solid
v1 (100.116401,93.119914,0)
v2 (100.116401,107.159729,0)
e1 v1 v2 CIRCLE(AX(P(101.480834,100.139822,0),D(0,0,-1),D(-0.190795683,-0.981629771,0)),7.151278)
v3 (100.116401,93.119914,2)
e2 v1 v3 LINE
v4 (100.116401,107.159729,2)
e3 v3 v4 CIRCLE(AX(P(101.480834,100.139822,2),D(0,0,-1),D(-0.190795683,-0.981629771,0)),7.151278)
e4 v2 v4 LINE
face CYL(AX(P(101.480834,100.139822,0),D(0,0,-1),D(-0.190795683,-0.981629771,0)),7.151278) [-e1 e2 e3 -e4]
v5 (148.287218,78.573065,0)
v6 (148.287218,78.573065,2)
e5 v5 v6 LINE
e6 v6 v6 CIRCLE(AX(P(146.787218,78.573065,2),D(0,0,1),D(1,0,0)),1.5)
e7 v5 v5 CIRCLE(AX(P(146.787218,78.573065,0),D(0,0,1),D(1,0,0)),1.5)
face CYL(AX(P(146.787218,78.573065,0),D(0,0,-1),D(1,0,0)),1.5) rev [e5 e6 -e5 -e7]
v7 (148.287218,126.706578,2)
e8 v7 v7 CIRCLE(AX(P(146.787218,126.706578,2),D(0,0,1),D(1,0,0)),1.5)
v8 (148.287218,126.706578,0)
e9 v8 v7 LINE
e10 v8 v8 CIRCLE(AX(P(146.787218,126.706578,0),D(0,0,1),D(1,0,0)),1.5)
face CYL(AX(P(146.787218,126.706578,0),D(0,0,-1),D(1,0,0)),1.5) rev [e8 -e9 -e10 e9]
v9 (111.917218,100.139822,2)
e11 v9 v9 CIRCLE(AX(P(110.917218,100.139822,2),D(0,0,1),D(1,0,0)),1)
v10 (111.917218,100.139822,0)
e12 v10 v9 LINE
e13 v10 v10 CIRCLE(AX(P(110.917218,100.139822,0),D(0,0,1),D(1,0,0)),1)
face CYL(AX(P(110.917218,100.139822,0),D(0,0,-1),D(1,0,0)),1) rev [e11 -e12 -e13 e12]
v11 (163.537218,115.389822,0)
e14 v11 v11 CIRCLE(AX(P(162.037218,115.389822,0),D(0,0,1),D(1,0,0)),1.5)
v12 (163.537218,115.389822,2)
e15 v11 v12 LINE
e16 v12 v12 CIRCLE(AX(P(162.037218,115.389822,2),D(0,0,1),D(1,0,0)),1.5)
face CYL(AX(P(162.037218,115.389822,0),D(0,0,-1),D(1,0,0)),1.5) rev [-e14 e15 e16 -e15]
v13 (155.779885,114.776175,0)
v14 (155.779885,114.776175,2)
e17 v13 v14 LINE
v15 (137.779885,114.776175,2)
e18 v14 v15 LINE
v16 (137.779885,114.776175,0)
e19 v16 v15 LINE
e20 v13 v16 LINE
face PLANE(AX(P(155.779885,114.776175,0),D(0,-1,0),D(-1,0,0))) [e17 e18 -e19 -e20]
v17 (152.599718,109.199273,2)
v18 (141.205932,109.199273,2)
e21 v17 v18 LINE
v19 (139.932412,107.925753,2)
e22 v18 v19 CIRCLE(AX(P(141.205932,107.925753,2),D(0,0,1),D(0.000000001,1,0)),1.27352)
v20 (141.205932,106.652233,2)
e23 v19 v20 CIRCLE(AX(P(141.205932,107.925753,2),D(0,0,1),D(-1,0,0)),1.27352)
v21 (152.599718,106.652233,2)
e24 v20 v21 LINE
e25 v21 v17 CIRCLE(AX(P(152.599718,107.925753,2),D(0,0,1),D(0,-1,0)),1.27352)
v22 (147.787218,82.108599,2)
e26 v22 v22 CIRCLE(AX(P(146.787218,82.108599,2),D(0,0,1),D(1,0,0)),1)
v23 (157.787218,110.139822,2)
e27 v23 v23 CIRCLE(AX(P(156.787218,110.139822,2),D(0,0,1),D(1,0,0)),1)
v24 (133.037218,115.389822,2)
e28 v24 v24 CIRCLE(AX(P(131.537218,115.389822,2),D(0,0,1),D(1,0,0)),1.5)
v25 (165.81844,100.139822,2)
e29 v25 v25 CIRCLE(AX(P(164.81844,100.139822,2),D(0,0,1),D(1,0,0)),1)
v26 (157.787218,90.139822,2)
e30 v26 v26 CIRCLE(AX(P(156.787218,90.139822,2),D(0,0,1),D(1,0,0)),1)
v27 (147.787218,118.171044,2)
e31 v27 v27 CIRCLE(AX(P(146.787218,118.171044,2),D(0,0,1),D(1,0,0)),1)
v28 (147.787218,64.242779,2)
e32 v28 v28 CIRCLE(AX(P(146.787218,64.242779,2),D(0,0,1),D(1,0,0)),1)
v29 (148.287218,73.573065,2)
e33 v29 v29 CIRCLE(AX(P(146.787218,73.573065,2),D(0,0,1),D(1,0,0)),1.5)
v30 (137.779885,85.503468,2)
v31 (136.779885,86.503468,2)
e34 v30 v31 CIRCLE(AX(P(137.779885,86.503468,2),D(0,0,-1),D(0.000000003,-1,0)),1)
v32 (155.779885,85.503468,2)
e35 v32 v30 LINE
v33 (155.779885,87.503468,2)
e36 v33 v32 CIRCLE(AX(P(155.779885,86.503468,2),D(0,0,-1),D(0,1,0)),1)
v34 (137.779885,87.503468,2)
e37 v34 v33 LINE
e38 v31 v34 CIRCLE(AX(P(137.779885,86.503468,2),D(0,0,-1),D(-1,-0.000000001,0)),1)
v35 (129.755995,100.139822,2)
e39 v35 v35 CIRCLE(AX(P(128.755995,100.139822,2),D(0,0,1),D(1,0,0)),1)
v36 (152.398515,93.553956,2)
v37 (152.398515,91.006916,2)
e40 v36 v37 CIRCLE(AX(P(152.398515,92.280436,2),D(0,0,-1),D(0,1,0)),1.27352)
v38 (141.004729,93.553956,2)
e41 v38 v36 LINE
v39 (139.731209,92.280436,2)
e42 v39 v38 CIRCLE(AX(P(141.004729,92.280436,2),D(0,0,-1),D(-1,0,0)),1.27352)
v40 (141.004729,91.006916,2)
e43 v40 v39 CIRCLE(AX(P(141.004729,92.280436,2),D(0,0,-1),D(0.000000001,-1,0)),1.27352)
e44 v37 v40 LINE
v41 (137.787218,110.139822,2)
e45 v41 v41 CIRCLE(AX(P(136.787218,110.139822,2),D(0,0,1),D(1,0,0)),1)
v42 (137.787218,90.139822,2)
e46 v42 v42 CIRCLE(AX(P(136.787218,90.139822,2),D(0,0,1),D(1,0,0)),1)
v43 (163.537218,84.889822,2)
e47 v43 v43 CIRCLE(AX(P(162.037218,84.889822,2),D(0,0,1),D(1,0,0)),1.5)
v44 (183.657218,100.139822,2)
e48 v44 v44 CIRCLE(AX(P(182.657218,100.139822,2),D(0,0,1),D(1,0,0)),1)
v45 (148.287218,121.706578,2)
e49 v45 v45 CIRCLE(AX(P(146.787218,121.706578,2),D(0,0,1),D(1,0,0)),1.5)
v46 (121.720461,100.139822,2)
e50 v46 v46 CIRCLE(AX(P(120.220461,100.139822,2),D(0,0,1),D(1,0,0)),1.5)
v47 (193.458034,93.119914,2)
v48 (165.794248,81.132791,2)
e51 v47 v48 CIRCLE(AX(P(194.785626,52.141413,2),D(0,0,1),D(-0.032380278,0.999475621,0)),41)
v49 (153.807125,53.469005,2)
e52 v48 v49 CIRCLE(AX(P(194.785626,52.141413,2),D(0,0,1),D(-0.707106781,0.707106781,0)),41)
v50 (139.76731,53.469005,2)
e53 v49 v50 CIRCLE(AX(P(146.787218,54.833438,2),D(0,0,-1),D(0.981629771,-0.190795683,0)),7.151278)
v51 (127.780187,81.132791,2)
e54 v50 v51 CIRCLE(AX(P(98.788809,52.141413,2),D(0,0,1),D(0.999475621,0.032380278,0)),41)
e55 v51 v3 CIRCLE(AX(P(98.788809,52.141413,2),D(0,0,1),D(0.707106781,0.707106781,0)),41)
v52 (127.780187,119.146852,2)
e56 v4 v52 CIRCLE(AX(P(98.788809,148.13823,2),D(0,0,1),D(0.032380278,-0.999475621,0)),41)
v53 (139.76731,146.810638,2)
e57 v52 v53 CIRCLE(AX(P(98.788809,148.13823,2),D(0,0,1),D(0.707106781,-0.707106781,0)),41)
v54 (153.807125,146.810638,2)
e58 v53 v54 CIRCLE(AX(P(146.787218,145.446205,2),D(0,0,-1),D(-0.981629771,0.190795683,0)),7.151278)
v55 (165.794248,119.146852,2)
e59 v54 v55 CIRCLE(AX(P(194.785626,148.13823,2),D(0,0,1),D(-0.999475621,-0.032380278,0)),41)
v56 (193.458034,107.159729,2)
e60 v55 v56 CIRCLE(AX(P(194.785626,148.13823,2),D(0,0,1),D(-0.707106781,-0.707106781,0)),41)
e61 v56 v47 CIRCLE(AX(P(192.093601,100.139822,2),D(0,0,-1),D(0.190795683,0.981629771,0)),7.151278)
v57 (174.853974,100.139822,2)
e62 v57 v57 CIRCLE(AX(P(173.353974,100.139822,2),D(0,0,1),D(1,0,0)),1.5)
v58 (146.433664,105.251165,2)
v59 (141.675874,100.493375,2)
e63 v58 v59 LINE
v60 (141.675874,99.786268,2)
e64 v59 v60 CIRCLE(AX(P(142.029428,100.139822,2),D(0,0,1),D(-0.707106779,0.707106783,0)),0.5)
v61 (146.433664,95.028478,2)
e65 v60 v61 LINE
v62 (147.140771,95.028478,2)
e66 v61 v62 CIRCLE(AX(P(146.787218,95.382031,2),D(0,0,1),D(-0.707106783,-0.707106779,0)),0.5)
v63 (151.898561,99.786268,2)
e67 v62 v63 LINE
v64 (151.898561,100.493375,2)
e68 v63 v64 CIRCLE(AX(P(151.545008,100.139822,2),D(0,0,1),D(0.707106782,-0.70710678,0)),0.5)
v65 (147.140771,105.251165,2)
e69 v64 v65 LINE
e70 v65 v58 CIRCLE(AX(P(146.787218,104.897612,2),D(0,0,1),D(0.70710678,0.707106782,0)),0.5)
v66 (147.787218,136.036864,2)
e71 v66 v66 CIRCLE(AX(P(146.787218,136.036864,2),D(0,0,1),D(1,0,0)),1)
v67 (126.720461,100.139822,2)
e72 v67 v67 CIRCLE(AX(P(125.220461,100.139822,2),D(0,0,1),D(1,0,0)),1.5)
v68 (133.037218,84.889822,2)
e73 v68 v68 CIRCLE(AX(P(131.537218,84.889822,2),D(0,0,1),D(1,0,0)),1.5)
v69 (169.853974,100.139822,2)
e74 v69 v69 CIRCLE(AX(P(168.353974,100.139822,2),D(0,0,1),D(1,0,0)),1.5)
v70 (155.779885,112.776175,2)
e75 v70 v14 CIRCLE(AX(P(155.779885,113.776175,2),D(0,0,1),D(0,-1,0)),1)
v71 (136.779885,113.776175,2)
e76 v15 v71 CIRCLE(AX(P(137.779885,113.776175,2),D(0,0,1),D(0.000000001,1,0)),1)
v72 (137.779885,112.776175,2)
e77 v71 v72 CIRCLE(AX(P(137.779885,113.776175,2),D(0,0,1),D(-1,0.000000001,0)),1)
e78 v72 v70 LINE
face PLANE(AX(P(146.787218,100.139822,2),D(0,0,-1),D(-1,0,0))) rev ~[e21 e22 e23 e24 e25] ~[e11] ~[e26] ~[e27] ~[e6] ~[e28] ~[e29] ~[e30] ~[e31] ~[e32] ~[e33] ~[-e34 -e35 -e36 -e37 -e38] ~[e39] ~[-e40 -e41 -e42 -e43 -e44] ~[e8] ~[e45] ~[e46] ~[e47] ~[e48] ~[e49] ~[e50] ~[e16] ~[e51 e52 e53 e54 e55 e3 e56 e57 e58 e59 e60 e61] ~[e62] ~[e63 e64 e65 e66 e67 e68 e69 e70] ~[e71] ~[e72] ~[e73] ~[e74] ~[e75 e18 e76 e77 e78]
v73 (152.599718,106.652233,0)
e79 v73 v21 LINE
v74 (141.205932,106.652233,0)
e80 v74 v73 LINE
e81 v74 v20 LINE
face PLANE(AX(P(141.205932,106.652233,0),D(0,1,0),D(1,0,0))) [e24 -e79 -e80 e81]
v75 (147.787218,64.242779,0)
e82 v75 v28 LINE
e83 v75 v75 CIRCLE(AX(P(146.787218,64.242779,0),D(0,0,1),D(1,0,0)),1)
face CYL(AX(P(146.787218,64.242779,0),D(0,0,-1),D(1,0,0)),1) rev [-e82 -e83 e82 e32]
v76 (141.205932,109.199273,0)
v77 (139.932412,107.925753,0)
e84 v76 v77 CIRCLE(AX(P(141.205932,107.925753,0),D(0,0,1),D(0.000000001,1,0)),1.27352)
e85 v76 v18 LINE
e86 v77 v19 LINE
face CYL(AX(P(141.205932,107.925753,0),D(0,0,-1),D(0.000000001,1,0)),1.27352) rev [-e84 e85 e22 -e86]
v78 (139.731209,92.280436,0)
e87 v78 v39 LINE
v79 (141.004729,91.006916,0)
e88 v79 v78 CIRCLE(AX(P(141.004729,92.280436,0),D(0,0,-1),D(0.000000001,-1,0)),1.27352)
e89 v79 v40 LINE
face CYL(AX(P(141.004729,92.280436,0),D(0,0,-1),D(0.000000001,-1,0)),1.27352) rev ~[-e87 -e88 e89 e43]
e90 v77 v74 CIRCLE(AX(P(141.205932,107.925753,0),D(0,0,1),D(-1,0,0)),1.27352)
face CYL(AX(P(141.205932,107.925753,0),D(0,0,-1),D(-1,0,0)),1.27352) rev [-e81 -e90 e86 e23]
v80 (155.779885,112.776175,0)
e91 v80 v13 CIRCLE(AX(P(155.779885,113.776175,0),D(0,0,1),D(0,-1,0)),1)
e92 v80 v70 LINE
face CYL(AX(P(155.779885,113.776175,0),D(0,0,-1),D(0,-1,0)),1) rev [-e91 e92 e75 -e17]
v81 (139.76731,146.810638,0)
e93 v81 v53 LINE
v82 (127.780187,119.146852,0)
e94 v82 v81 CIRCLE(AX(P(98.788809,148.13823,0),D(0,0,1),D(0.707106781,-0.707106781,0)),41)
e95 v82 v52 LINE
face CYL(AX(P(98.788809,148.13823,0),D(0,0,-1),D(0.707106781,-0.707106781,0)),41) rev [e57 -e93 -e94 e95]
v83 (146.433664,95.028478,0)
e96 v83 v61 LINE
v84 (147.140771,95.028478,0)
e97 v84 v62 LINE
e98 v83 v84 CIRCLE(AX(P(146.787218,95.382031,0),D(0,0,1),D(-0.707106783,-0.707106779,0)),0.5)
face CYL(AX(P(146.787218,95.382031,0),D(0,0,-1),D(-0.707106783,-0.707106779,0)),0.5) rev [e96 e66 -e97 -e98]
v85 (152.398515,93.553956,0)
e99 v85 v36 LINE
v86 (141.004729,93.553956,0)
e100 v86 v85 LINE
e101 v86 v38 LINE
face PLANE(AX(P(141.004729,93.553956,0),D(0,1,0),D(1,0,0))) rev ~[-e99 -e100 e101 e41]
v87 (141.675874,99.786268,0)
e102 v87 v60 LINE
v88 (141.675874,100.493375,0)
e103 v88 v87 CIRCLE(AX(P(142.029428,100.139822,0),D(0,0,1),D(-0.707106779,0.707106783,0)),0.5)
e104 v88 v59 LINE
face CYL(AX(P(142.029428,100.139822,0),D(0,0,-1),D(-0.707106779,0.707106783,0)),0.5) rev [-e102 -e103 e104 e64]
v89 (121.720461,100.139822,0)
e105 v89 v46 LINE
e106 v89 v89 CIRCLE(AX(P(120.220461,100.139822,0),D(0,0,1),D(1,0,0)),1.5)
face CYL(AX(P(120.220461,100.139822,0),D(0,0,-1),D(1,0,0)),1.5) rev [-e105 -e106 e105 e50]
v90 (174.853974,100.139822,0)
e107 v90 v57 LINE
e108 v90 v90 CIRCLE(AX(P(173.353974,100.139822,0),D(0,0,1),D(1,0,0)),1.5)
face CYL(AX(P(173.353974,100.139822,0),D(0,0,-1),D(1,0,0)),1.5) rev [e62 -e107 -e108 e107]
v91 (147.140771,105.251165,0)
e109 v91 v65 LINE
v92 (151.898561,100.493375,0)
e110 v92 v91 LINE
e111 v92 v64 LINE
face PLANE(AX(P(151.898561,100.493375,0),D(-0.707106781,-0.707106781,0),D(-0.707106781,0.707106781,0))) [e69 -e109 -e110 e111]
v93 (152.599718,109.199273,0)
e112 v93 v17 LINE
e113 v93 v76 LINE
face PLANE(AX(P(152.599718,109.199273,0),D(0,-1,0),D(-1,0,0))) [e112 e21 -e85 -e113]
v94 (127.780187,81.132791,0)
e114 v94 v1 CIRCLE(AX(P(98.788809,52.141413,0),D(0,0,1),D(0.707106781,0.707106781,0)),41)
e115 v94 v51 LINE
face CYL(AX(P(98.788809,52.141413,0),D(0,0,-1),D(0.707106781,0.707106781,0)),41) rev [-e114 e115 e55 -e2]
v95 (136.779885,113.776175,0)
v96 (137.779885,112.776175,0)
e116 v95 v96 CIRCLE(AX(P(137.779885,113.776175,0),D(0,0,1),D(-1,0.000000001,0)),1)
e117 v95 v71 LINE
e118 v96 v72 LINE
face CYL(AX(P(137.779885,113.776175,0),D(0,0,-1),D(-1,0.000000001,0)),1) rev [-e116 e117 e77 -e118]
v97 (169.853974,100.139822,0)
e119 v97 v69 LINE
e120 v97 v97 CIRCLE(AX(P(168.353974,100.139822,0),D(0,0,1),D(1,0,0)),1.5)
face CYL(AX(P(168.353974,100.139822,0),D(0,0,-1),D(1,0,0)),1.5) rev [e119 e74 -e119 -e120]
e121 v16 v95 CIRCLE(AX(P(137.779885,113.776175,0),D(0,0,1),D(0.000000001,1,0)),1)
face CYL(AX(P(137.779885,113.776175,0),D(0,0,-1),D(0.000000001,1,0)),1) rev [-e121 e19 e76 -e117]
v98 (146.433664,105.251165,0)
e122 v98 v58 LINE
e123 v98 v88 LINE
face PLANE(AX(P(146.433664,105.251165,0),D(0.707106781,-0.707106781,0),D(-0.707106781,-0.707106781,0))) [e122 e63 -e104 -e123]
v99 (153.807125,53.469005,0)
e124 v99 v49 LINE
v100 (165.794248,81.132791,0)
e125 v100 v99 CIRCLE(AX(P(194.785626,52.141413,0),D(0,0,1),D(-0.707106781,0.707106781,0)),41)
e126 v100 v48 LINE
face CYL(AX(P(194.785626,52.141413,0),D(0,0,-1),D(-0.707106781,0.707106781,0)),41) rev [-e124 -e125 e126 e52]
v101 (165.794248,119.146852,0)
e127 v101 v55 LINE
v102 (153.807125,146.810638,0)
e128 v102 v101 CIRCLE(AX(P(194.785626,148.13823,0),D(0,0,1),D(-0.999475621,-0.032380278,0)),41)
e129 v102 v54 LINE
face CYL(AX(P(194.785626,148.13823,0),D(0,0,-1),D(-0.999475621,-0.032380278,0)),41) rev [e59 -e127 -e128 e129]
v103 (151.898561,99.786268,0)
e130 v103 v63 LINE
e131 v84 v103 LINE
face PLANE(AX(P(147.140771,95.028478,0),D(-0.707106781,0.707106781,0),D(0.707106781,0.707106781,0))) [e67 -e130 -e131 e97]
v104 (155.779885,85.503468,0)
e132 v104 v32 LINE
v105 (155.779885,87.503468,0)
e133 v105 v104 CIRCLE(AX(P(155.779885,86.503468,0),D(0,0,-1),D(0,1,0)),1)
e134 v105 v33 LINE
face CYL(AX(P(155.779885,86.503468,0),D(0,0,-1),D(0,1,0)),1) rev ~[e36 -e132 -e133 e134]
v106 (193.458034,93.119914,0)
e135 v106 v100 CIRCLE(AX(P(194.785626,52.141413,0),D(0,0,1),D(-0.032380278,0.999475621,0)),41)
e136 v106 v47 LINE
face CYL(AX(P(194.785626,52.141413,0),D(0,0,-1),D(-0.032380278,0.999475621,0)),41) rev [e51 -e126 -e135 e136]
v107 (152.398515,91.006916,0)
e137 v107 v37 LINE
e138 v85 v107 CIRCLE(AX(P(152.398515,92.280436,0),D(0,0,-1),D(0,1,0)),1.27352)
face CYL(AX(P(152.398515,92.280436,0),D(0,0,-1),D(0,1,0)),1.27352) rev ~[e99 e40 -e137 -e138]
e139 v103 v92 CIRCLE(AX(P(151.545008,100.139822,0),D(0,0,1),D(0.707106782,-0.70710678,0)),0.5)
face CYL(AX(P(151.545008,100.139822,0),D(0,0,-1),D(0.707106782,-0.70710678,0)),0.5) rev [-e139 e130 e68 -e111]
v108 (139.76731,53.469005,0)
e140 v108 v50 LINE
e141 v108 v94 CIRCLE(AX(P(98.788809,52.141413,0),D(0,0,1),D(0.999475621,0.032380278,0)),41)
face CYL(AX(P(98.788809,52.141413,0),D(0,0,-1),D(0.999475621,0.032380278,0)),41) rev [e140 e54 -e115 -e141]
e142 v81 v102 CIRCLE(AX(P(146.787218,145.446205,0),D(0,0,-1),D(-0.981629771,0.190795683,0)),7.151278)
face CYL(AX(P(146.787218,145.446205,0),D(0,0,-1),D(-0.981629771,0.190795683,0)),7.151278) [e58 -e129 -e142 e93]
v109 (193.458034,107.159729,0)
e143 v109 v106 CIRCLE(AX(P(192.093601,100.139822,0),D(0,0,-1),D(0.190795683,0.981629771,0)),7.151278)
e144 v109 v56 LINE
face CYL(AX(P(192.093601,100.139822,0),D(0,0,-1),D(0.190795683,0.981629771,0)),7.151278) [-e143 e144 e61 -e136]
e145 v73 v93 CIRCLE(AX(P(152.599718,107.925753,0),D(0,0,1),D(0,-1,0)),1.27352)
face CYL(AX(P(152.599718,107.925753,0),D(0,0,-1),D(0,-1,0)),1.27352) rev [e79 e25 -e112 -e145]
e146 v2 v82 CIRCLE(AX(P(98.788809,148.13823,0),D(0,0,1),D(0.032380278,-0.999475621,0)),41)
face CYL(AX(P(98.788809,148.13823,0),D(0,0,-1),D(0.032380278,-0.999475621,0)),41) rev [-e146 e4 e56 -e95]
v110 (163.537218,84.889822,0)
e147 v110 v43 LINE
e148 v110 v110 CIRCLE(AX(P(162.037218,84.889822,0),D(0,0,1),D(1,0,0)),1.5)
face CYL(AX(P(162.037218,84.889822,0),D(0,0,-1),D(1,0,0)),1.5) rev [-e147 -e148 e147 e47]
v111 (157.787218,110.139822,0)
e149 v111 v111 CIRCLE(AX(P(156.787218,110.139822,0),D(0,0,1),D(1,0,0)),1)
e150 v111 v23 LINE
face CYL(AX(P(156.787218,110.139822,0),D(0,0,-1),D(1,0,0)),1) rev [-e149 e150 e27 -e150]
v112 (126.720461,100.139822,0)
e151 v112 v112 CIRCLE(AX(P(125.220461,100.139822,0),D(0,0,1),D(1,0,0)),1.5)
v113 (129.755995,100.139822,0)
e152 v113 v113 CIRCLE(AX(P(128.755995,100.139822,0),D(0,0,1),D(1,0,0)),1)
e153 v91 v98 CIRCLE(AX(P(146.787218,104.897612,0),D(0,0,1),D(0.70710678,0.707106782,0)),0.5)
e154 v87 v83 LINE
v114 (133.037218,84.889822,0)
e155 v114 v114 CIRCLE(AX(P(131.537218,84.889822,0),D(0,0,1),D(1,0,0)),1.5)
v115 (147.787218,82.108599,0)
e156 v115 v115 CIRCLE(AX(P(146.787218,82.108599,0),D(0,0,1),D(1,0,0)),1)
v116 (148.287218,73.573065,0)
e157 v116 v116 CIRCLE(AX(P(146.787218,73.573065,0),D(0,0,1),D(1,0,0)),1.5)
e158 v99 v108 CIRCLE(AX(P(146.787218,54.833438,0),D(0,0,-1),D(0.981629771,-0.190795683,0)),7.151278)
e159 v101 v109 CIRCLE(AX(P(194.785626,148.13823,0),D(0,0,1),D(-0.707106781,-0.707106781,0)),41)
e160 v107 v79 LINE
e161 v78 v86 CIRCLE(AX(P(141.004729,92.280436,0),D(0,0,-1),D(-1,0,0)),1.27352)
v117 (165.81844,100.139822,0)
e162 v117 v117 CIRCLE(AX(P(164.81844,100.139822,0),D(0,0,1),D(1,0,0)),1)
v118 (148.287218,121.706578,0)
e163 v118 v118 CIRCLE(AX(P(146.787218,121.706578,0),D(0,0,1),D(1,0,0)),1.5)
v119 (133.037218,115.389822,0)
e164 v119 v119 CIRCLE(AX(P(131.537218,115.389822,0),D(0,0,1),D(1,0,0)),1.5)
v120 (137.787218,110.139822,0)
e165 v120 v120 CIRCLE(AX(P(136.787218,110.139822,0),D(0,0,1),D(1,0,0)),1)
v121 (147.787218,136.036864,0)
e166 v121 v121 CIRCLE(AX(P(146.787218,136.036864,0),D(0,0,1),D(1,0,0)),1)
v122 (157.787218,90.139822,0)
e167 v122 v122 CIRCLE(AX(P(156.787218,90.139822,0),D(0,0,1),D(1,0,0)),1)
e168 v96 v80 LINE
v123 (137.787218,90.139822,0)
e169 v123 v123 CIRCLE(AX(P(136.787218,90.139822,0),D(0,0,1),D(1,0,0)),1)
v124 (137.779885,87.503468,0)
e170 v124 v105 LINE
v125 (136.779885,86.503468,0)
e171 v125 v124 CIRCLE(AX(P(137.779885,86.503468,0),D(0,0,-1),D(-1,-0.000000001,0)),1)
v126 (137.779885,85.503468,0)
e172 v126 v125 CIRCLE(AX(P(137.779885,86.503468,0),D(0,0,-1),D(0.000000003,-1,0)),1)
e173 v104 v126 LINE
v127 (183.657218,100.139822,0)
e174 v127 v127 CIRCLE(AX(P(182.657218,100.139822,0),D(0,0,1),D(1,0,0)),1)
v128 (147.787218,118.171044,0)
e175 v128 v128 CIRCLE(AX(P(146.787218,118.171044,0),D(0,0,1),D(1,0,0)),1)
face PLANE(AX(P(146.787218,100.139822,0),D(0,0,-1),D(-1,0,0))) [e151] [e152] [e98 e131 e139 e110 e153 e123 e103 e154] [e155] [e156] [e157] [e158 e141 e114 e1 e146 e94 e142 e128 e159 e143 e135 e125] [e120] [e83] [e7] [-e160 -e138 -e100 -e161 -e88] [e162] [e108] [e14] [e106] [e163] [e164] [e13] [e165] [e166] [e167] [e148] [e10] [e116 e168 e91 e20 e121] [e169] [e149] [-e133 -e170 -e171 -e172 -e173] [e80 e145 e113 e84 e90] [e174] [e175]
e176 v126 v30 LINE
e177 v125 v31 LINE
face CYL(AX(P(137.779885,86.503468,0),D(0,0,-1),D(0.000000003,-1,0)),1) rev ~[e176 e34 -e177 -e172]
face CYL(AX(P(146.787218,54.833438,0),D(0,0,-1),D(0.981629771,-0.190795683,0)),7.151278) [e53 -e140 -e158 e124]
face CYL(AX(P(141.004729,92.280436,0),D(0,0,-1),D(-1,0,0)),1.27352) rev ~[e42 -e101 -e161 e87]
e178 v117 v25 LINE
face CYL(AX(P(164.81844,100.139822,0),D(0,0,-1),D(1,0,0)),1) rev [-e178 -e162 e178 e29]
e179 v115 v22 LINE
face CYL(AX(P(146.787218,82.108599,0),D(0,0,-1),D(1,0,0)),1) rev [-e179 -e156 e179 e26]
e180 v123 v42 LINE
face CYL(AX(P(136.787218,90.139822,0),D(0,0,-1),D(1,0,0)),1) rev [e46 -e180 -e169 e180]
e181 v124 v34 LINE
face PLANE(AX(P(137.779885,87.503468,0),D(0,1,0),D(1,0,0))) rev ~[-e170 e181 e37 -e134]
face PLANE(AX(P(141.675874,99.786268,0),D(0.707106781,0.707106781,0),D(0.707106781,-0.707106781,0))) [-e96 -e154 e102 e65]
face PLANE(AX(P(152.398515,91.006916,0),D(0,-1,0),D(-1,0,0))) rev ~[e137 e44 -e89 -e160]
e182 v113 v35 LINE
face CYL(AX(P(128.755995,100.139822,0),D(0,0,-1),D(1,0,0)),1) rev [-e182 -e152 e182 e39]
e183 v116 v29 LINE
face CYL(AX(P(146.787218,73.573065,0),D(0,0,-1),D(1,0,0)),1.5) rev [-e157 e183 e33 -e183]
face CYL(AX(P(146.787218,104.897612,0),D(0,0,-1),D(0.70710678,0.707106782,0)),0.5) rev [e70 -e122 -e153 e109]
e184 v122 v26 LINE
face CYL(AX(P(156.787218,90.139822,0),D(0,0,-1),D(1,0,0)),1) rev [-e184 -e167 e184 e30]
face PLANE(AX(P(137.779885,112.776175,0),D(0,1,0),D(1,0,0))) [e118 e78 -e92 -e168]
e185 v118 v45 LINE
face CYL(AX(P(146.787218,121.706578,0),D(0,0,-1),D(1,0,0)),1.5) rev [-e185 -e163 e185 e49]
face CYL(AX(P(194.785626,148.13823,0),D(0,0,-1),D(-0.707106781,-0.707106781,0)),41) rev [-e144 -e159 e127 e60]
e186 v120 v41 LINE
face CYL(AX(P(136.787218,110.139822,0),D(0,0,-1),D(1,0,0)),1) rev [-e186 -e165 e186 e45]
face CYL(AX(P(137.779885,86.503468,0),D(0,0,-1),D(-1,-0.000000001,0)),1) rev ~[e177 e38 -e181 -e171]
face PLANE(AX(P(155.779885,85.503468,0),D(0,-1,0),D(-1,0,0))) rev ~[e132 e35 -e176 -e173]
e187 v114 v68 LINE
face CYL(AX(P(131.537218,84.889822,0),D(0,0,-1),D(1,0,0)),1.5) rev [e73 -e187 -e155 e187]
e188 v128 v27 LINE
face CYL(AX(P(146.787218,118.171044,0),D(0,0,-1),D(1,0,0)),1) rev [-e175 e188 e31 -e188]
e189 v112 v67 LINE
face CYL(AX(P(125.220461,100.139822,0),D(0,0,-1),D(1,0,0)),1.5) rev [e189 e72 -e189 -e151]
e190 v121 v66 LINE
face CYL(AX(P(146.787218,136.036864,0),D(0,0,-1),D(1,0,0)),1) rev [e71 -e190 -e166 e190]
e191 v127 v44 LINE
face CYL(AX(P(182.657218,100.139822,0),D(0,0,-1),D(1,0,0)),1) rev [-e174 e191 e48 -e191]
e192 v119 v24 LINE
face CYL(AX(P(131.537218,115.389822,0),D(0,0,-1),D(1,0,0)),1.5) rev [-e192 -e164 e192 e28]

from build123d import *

# Parameters (mm, degrees)
MODEL_R         = 1
MODEL_R_2       = 1.5
EXTRUDE_1_DEPTH = 2


with BuildPart() as part:
    # Model → 凸台-拉伸1 (new body)
    with BuildSketch(Plane.XY):
        with BuildLine():
            ThreePointArc((165.794247794, 119.146851779), (178.48431443, 110.518191971), (193.458034411, 107.159729335))
            ThreePointArc((193.458034411, 107.159729335), (199.244879812, 100.139821501), (193.458034411, 93.119913668))
            ThreePointArc((193.458034411, 93.119913668), (178.48431443, 89.761451032), (165.794247794, 81.132791223))
            ThreePointArc((165.794247794, 81.132791223), (157.165587985, 68.442724587), (153.807125349, 53.469004606))
            ThreePointArc((153.807125349, 53.469004606), (146.787217515, 47.682159205), (139.767309682, 53.469004606))
            ThreePointArc((139.767309682, 53.469004606), (136.408847046, 68.442724587), (127.780187237, 81.132791223))
            ThreePointArc((127.780187237, 81.132791223), (115.090120601, 89.761451032), (100.11640062, 93.119913668))
            ThreePointArc((100.11640062, 93.119913668), (94.329555219, 100.139821501), (100.11640062, 107.159729335))
            ThreePointArc((100.11640062, 107.159729335), (115.090120601, 110.518191971), (127.780187237, 119.146851779))
            ThreePointArc((127.780187237, 119.146851779), (136.408847046, 131.836918416), (139.767309682, 146.810638396))
            ThreePointArc((139.767309682, 146.810638396), (146.787217515, 152.597483797), (153.807125349, 146.810638396))
            ThreePointArc((153.807125349, 146.810638396), (157.165587985, 131.836918416), (165.794247794, 119.146851779))
        make_face()
        with Locations((156.787217515, 110.139821501)):
            Circle(MODEL_R, mode=Mode.SUBTRACT)
        with Locations((136.787217515, 110.139821501)):
            Circle(MODEL_R, mode=Mode.SUBTRACT)
        with Locations((136.787217515, 90.139821501)):
            Circle(MODEL_R, mode=Mode.SUBTRACT)
        with Locations((156.787217515, 90.139821501)):
            Circle(MODEL_R, mode=Mode.SUBTRACT)
        with Locations((168.353974342, 100.139821501)):
            Circle(MODEL_R_2, mode=Mode.SUBTRACT)
        with Locations((146.787217515, 121.706578327)):
            Circle(MODEL_R_2, mode=Mode.SUBTRACT)
        with Locations((125.220460689, 100.139821501)):
            Circle(MODEL_R_2, mode=Mode.SUBTRACT)
        with Locations((146.787217515, 78.573064675)):
            Circle(MODEL_R_2, mode=Mode.SUBTRACT)
        with Locations((146.787217515, 126.706578327)):
            Circle(MODEL_R_2, mode=Mode.SUBTRACT)
        with Locations((120.220460689, 100.139821501)):
            Circle(MODEL_R_2, mode=Mode.SUBTRACT)
        with Locations((146.787217515, 73.573064675)):
            Circle(MODEL_R_2, mode=Mode.SUBTRACT)
        with Locations((173.353974342, 100.139821501)):
            Circle(MODEL_R_2, mode=Mode.SUBTRACT)
        with Locations((146.787217515, 118.171044401)):
            Circle(MODEL_R, mode=Mode.SUBTRACT)
        with Locations((128.755994615, 100.139821501)):
            Circle(MODEL_R, mode=Mode.SUBTRACT)
        with Locations((146.787217515, 82.108598601)):
            Circle(MODEL_R, mode=Mode.SUBTRACT)
        with Locations((164.818440415, 100.139821501)):
            Circle(MODEL_R, mode=Mode.SUBTRACT)
        with Locations((162.037217515, 115.389821501)):
            Circle(MODEL_R_2, mode=Mode.SUBTRACT)
        with Locations((131.537217515, 115.389821501)):
            Circle(MODEL_R_2, mode=Mode.SUBTRACT)
        with Locations((131.537217515, 84.889821501)):
            Circle(MODEL_R_2, mode=Mode.SUBTRACT)
        with Locations((162.037217515, 84.889821501)):
            Circle(MODEL_R_2, mode=Mode.SUBTRACT)
        with Locations((182.657217515, 100.139821501)):
            Circle(MODEL_R, mode=Mode.SUBTRACT)
        with Locations((146.787217515, 136.036864466)):
            Circle(MODEL_R, mode=Mode.SUBTRACT)
        with Locations((110.917217515, 100.139821501)):
            Circle(MODEL_R, mode=Mode.SUBTRACT)
        with Locations((146.787217515, 64.242778536)):
            Circle(MODEL_R, mode=Mode.SUBTRACT)
        with BuildLine():
            Line((152.398515146, 91.006916148), (141.004728844, 91.006916149))
            ThreePointArc((141.004728844, 91.006916149), (140.104214379, 91.379921453), (139.731209075, 92.280435918))
            ThreePointArc((139.731209075, 92.280435918), (140.104214379, 93.180950383), (141.004728844, 93.553955688))
            Line((141.004728844, 93.553955688), (152.398515146, 93.553955687))
            ThreePointArc((152.398515146, 93.553955687), (153.672034916, 92.280435917), (152.398515146, 91.006916148))
        make_face(mode=Mode.SUBTRACT)
        with BuildLine():
            Line((152.599718137, 109.199272945), (141.205931835, 109.199272945))
            ThreePointArc((141.205931835, 109.199272945), (140.30541737, 108.826267641), (139.932412066, 107.925753176))
            ThreePointArc((139.932412066, 107.925753176), (140.30541737, 107.025238711), (141.205931835, 106.652233406))
            Line((141.205931835, 106.652233406), (152.599718137, 106.652233406))
            ThreePointArc((152.599718137, 106.652233406), (153.873237907, 107.925753176), (152.599718137, 109.199272945))
        make_face(mode=Mode.SUBTRACT)
        with BuildLine():
            Line((151.898560909, 100.493374892), (147.140770906, 105.251164895))
            ThreePointArc((147.140770906, 105.251164895), (146.787217515, 105.397611504), (146.433664125, 105.251164895))
            Line((146.433664125, 105.251164895), (141.675874122, 100.493374892))
            ThreePointArc((141.675874122, 100.493374892), (141.529427512, 100.139821501), (141.675874122, 99.786268111))
            Line((141.675874122, 99.786268111), (146.433664125, 95.028478108))
            ThreePointArc((146.433664125, 95.028478108), (146.787217515, 94.882031498), (147.140770906, 95.028478108))
            Line((147.140770906, 95.028478108), (151.898560909, 99.786268111))
            ThreePointArc((151.898560909, 99.786268111), (152.045007518, 100.139821501), (151.898560909, 100.493374892))
        make_face(mode=Mode.SUBTRACT)
        with BuildLine():
            Line((137.779884988, 87.503468035), (155.779884988, 87.503468035))
            ThreePointArc((155.779884988, 87.503468035), (156.779884988, 86.503468035), (155.779884988, 85.503468035))
            Line((155.779884988, 85.503468035), (137.779884988, 85.503468035))
            ThreePointArc((137.779884988, 85.503468035), (137.072778206, 85.796361253), (136.779884988, 86.503468035))
            ThreePointArc((136.779884988, 86.503468035), (137.072778206, 87.210574816), (137.779884988, 87.503468035))
        make_face(mode=Mode.SUBTRACT)
        with BuildLine():
            Line((137.779884988, 112.776174968), (155.779884988, 112.776174968))
            ThreePointArc((155.779884988, 112.776174968), (156.779884988, 113.776174968), (155.779884988, 114.776174968))
            Line((155.779884988, 114.776174968), (137.779884988, 114.776174968))
            ThreePointArc((137.779884988, 114.776174968), (137.072778206, 114.483281749), (136.779884988, 113.776174968))
            ThreePointArc((136.779884988, 113.776174968), (137.072778206, 113.069068187), (137.779884988, 112.776174968))
        make_face(mode=Mode.SUBTRACT)
    extrude(amount=EXTRUDE_1_DEPTH)


solid = part.part
